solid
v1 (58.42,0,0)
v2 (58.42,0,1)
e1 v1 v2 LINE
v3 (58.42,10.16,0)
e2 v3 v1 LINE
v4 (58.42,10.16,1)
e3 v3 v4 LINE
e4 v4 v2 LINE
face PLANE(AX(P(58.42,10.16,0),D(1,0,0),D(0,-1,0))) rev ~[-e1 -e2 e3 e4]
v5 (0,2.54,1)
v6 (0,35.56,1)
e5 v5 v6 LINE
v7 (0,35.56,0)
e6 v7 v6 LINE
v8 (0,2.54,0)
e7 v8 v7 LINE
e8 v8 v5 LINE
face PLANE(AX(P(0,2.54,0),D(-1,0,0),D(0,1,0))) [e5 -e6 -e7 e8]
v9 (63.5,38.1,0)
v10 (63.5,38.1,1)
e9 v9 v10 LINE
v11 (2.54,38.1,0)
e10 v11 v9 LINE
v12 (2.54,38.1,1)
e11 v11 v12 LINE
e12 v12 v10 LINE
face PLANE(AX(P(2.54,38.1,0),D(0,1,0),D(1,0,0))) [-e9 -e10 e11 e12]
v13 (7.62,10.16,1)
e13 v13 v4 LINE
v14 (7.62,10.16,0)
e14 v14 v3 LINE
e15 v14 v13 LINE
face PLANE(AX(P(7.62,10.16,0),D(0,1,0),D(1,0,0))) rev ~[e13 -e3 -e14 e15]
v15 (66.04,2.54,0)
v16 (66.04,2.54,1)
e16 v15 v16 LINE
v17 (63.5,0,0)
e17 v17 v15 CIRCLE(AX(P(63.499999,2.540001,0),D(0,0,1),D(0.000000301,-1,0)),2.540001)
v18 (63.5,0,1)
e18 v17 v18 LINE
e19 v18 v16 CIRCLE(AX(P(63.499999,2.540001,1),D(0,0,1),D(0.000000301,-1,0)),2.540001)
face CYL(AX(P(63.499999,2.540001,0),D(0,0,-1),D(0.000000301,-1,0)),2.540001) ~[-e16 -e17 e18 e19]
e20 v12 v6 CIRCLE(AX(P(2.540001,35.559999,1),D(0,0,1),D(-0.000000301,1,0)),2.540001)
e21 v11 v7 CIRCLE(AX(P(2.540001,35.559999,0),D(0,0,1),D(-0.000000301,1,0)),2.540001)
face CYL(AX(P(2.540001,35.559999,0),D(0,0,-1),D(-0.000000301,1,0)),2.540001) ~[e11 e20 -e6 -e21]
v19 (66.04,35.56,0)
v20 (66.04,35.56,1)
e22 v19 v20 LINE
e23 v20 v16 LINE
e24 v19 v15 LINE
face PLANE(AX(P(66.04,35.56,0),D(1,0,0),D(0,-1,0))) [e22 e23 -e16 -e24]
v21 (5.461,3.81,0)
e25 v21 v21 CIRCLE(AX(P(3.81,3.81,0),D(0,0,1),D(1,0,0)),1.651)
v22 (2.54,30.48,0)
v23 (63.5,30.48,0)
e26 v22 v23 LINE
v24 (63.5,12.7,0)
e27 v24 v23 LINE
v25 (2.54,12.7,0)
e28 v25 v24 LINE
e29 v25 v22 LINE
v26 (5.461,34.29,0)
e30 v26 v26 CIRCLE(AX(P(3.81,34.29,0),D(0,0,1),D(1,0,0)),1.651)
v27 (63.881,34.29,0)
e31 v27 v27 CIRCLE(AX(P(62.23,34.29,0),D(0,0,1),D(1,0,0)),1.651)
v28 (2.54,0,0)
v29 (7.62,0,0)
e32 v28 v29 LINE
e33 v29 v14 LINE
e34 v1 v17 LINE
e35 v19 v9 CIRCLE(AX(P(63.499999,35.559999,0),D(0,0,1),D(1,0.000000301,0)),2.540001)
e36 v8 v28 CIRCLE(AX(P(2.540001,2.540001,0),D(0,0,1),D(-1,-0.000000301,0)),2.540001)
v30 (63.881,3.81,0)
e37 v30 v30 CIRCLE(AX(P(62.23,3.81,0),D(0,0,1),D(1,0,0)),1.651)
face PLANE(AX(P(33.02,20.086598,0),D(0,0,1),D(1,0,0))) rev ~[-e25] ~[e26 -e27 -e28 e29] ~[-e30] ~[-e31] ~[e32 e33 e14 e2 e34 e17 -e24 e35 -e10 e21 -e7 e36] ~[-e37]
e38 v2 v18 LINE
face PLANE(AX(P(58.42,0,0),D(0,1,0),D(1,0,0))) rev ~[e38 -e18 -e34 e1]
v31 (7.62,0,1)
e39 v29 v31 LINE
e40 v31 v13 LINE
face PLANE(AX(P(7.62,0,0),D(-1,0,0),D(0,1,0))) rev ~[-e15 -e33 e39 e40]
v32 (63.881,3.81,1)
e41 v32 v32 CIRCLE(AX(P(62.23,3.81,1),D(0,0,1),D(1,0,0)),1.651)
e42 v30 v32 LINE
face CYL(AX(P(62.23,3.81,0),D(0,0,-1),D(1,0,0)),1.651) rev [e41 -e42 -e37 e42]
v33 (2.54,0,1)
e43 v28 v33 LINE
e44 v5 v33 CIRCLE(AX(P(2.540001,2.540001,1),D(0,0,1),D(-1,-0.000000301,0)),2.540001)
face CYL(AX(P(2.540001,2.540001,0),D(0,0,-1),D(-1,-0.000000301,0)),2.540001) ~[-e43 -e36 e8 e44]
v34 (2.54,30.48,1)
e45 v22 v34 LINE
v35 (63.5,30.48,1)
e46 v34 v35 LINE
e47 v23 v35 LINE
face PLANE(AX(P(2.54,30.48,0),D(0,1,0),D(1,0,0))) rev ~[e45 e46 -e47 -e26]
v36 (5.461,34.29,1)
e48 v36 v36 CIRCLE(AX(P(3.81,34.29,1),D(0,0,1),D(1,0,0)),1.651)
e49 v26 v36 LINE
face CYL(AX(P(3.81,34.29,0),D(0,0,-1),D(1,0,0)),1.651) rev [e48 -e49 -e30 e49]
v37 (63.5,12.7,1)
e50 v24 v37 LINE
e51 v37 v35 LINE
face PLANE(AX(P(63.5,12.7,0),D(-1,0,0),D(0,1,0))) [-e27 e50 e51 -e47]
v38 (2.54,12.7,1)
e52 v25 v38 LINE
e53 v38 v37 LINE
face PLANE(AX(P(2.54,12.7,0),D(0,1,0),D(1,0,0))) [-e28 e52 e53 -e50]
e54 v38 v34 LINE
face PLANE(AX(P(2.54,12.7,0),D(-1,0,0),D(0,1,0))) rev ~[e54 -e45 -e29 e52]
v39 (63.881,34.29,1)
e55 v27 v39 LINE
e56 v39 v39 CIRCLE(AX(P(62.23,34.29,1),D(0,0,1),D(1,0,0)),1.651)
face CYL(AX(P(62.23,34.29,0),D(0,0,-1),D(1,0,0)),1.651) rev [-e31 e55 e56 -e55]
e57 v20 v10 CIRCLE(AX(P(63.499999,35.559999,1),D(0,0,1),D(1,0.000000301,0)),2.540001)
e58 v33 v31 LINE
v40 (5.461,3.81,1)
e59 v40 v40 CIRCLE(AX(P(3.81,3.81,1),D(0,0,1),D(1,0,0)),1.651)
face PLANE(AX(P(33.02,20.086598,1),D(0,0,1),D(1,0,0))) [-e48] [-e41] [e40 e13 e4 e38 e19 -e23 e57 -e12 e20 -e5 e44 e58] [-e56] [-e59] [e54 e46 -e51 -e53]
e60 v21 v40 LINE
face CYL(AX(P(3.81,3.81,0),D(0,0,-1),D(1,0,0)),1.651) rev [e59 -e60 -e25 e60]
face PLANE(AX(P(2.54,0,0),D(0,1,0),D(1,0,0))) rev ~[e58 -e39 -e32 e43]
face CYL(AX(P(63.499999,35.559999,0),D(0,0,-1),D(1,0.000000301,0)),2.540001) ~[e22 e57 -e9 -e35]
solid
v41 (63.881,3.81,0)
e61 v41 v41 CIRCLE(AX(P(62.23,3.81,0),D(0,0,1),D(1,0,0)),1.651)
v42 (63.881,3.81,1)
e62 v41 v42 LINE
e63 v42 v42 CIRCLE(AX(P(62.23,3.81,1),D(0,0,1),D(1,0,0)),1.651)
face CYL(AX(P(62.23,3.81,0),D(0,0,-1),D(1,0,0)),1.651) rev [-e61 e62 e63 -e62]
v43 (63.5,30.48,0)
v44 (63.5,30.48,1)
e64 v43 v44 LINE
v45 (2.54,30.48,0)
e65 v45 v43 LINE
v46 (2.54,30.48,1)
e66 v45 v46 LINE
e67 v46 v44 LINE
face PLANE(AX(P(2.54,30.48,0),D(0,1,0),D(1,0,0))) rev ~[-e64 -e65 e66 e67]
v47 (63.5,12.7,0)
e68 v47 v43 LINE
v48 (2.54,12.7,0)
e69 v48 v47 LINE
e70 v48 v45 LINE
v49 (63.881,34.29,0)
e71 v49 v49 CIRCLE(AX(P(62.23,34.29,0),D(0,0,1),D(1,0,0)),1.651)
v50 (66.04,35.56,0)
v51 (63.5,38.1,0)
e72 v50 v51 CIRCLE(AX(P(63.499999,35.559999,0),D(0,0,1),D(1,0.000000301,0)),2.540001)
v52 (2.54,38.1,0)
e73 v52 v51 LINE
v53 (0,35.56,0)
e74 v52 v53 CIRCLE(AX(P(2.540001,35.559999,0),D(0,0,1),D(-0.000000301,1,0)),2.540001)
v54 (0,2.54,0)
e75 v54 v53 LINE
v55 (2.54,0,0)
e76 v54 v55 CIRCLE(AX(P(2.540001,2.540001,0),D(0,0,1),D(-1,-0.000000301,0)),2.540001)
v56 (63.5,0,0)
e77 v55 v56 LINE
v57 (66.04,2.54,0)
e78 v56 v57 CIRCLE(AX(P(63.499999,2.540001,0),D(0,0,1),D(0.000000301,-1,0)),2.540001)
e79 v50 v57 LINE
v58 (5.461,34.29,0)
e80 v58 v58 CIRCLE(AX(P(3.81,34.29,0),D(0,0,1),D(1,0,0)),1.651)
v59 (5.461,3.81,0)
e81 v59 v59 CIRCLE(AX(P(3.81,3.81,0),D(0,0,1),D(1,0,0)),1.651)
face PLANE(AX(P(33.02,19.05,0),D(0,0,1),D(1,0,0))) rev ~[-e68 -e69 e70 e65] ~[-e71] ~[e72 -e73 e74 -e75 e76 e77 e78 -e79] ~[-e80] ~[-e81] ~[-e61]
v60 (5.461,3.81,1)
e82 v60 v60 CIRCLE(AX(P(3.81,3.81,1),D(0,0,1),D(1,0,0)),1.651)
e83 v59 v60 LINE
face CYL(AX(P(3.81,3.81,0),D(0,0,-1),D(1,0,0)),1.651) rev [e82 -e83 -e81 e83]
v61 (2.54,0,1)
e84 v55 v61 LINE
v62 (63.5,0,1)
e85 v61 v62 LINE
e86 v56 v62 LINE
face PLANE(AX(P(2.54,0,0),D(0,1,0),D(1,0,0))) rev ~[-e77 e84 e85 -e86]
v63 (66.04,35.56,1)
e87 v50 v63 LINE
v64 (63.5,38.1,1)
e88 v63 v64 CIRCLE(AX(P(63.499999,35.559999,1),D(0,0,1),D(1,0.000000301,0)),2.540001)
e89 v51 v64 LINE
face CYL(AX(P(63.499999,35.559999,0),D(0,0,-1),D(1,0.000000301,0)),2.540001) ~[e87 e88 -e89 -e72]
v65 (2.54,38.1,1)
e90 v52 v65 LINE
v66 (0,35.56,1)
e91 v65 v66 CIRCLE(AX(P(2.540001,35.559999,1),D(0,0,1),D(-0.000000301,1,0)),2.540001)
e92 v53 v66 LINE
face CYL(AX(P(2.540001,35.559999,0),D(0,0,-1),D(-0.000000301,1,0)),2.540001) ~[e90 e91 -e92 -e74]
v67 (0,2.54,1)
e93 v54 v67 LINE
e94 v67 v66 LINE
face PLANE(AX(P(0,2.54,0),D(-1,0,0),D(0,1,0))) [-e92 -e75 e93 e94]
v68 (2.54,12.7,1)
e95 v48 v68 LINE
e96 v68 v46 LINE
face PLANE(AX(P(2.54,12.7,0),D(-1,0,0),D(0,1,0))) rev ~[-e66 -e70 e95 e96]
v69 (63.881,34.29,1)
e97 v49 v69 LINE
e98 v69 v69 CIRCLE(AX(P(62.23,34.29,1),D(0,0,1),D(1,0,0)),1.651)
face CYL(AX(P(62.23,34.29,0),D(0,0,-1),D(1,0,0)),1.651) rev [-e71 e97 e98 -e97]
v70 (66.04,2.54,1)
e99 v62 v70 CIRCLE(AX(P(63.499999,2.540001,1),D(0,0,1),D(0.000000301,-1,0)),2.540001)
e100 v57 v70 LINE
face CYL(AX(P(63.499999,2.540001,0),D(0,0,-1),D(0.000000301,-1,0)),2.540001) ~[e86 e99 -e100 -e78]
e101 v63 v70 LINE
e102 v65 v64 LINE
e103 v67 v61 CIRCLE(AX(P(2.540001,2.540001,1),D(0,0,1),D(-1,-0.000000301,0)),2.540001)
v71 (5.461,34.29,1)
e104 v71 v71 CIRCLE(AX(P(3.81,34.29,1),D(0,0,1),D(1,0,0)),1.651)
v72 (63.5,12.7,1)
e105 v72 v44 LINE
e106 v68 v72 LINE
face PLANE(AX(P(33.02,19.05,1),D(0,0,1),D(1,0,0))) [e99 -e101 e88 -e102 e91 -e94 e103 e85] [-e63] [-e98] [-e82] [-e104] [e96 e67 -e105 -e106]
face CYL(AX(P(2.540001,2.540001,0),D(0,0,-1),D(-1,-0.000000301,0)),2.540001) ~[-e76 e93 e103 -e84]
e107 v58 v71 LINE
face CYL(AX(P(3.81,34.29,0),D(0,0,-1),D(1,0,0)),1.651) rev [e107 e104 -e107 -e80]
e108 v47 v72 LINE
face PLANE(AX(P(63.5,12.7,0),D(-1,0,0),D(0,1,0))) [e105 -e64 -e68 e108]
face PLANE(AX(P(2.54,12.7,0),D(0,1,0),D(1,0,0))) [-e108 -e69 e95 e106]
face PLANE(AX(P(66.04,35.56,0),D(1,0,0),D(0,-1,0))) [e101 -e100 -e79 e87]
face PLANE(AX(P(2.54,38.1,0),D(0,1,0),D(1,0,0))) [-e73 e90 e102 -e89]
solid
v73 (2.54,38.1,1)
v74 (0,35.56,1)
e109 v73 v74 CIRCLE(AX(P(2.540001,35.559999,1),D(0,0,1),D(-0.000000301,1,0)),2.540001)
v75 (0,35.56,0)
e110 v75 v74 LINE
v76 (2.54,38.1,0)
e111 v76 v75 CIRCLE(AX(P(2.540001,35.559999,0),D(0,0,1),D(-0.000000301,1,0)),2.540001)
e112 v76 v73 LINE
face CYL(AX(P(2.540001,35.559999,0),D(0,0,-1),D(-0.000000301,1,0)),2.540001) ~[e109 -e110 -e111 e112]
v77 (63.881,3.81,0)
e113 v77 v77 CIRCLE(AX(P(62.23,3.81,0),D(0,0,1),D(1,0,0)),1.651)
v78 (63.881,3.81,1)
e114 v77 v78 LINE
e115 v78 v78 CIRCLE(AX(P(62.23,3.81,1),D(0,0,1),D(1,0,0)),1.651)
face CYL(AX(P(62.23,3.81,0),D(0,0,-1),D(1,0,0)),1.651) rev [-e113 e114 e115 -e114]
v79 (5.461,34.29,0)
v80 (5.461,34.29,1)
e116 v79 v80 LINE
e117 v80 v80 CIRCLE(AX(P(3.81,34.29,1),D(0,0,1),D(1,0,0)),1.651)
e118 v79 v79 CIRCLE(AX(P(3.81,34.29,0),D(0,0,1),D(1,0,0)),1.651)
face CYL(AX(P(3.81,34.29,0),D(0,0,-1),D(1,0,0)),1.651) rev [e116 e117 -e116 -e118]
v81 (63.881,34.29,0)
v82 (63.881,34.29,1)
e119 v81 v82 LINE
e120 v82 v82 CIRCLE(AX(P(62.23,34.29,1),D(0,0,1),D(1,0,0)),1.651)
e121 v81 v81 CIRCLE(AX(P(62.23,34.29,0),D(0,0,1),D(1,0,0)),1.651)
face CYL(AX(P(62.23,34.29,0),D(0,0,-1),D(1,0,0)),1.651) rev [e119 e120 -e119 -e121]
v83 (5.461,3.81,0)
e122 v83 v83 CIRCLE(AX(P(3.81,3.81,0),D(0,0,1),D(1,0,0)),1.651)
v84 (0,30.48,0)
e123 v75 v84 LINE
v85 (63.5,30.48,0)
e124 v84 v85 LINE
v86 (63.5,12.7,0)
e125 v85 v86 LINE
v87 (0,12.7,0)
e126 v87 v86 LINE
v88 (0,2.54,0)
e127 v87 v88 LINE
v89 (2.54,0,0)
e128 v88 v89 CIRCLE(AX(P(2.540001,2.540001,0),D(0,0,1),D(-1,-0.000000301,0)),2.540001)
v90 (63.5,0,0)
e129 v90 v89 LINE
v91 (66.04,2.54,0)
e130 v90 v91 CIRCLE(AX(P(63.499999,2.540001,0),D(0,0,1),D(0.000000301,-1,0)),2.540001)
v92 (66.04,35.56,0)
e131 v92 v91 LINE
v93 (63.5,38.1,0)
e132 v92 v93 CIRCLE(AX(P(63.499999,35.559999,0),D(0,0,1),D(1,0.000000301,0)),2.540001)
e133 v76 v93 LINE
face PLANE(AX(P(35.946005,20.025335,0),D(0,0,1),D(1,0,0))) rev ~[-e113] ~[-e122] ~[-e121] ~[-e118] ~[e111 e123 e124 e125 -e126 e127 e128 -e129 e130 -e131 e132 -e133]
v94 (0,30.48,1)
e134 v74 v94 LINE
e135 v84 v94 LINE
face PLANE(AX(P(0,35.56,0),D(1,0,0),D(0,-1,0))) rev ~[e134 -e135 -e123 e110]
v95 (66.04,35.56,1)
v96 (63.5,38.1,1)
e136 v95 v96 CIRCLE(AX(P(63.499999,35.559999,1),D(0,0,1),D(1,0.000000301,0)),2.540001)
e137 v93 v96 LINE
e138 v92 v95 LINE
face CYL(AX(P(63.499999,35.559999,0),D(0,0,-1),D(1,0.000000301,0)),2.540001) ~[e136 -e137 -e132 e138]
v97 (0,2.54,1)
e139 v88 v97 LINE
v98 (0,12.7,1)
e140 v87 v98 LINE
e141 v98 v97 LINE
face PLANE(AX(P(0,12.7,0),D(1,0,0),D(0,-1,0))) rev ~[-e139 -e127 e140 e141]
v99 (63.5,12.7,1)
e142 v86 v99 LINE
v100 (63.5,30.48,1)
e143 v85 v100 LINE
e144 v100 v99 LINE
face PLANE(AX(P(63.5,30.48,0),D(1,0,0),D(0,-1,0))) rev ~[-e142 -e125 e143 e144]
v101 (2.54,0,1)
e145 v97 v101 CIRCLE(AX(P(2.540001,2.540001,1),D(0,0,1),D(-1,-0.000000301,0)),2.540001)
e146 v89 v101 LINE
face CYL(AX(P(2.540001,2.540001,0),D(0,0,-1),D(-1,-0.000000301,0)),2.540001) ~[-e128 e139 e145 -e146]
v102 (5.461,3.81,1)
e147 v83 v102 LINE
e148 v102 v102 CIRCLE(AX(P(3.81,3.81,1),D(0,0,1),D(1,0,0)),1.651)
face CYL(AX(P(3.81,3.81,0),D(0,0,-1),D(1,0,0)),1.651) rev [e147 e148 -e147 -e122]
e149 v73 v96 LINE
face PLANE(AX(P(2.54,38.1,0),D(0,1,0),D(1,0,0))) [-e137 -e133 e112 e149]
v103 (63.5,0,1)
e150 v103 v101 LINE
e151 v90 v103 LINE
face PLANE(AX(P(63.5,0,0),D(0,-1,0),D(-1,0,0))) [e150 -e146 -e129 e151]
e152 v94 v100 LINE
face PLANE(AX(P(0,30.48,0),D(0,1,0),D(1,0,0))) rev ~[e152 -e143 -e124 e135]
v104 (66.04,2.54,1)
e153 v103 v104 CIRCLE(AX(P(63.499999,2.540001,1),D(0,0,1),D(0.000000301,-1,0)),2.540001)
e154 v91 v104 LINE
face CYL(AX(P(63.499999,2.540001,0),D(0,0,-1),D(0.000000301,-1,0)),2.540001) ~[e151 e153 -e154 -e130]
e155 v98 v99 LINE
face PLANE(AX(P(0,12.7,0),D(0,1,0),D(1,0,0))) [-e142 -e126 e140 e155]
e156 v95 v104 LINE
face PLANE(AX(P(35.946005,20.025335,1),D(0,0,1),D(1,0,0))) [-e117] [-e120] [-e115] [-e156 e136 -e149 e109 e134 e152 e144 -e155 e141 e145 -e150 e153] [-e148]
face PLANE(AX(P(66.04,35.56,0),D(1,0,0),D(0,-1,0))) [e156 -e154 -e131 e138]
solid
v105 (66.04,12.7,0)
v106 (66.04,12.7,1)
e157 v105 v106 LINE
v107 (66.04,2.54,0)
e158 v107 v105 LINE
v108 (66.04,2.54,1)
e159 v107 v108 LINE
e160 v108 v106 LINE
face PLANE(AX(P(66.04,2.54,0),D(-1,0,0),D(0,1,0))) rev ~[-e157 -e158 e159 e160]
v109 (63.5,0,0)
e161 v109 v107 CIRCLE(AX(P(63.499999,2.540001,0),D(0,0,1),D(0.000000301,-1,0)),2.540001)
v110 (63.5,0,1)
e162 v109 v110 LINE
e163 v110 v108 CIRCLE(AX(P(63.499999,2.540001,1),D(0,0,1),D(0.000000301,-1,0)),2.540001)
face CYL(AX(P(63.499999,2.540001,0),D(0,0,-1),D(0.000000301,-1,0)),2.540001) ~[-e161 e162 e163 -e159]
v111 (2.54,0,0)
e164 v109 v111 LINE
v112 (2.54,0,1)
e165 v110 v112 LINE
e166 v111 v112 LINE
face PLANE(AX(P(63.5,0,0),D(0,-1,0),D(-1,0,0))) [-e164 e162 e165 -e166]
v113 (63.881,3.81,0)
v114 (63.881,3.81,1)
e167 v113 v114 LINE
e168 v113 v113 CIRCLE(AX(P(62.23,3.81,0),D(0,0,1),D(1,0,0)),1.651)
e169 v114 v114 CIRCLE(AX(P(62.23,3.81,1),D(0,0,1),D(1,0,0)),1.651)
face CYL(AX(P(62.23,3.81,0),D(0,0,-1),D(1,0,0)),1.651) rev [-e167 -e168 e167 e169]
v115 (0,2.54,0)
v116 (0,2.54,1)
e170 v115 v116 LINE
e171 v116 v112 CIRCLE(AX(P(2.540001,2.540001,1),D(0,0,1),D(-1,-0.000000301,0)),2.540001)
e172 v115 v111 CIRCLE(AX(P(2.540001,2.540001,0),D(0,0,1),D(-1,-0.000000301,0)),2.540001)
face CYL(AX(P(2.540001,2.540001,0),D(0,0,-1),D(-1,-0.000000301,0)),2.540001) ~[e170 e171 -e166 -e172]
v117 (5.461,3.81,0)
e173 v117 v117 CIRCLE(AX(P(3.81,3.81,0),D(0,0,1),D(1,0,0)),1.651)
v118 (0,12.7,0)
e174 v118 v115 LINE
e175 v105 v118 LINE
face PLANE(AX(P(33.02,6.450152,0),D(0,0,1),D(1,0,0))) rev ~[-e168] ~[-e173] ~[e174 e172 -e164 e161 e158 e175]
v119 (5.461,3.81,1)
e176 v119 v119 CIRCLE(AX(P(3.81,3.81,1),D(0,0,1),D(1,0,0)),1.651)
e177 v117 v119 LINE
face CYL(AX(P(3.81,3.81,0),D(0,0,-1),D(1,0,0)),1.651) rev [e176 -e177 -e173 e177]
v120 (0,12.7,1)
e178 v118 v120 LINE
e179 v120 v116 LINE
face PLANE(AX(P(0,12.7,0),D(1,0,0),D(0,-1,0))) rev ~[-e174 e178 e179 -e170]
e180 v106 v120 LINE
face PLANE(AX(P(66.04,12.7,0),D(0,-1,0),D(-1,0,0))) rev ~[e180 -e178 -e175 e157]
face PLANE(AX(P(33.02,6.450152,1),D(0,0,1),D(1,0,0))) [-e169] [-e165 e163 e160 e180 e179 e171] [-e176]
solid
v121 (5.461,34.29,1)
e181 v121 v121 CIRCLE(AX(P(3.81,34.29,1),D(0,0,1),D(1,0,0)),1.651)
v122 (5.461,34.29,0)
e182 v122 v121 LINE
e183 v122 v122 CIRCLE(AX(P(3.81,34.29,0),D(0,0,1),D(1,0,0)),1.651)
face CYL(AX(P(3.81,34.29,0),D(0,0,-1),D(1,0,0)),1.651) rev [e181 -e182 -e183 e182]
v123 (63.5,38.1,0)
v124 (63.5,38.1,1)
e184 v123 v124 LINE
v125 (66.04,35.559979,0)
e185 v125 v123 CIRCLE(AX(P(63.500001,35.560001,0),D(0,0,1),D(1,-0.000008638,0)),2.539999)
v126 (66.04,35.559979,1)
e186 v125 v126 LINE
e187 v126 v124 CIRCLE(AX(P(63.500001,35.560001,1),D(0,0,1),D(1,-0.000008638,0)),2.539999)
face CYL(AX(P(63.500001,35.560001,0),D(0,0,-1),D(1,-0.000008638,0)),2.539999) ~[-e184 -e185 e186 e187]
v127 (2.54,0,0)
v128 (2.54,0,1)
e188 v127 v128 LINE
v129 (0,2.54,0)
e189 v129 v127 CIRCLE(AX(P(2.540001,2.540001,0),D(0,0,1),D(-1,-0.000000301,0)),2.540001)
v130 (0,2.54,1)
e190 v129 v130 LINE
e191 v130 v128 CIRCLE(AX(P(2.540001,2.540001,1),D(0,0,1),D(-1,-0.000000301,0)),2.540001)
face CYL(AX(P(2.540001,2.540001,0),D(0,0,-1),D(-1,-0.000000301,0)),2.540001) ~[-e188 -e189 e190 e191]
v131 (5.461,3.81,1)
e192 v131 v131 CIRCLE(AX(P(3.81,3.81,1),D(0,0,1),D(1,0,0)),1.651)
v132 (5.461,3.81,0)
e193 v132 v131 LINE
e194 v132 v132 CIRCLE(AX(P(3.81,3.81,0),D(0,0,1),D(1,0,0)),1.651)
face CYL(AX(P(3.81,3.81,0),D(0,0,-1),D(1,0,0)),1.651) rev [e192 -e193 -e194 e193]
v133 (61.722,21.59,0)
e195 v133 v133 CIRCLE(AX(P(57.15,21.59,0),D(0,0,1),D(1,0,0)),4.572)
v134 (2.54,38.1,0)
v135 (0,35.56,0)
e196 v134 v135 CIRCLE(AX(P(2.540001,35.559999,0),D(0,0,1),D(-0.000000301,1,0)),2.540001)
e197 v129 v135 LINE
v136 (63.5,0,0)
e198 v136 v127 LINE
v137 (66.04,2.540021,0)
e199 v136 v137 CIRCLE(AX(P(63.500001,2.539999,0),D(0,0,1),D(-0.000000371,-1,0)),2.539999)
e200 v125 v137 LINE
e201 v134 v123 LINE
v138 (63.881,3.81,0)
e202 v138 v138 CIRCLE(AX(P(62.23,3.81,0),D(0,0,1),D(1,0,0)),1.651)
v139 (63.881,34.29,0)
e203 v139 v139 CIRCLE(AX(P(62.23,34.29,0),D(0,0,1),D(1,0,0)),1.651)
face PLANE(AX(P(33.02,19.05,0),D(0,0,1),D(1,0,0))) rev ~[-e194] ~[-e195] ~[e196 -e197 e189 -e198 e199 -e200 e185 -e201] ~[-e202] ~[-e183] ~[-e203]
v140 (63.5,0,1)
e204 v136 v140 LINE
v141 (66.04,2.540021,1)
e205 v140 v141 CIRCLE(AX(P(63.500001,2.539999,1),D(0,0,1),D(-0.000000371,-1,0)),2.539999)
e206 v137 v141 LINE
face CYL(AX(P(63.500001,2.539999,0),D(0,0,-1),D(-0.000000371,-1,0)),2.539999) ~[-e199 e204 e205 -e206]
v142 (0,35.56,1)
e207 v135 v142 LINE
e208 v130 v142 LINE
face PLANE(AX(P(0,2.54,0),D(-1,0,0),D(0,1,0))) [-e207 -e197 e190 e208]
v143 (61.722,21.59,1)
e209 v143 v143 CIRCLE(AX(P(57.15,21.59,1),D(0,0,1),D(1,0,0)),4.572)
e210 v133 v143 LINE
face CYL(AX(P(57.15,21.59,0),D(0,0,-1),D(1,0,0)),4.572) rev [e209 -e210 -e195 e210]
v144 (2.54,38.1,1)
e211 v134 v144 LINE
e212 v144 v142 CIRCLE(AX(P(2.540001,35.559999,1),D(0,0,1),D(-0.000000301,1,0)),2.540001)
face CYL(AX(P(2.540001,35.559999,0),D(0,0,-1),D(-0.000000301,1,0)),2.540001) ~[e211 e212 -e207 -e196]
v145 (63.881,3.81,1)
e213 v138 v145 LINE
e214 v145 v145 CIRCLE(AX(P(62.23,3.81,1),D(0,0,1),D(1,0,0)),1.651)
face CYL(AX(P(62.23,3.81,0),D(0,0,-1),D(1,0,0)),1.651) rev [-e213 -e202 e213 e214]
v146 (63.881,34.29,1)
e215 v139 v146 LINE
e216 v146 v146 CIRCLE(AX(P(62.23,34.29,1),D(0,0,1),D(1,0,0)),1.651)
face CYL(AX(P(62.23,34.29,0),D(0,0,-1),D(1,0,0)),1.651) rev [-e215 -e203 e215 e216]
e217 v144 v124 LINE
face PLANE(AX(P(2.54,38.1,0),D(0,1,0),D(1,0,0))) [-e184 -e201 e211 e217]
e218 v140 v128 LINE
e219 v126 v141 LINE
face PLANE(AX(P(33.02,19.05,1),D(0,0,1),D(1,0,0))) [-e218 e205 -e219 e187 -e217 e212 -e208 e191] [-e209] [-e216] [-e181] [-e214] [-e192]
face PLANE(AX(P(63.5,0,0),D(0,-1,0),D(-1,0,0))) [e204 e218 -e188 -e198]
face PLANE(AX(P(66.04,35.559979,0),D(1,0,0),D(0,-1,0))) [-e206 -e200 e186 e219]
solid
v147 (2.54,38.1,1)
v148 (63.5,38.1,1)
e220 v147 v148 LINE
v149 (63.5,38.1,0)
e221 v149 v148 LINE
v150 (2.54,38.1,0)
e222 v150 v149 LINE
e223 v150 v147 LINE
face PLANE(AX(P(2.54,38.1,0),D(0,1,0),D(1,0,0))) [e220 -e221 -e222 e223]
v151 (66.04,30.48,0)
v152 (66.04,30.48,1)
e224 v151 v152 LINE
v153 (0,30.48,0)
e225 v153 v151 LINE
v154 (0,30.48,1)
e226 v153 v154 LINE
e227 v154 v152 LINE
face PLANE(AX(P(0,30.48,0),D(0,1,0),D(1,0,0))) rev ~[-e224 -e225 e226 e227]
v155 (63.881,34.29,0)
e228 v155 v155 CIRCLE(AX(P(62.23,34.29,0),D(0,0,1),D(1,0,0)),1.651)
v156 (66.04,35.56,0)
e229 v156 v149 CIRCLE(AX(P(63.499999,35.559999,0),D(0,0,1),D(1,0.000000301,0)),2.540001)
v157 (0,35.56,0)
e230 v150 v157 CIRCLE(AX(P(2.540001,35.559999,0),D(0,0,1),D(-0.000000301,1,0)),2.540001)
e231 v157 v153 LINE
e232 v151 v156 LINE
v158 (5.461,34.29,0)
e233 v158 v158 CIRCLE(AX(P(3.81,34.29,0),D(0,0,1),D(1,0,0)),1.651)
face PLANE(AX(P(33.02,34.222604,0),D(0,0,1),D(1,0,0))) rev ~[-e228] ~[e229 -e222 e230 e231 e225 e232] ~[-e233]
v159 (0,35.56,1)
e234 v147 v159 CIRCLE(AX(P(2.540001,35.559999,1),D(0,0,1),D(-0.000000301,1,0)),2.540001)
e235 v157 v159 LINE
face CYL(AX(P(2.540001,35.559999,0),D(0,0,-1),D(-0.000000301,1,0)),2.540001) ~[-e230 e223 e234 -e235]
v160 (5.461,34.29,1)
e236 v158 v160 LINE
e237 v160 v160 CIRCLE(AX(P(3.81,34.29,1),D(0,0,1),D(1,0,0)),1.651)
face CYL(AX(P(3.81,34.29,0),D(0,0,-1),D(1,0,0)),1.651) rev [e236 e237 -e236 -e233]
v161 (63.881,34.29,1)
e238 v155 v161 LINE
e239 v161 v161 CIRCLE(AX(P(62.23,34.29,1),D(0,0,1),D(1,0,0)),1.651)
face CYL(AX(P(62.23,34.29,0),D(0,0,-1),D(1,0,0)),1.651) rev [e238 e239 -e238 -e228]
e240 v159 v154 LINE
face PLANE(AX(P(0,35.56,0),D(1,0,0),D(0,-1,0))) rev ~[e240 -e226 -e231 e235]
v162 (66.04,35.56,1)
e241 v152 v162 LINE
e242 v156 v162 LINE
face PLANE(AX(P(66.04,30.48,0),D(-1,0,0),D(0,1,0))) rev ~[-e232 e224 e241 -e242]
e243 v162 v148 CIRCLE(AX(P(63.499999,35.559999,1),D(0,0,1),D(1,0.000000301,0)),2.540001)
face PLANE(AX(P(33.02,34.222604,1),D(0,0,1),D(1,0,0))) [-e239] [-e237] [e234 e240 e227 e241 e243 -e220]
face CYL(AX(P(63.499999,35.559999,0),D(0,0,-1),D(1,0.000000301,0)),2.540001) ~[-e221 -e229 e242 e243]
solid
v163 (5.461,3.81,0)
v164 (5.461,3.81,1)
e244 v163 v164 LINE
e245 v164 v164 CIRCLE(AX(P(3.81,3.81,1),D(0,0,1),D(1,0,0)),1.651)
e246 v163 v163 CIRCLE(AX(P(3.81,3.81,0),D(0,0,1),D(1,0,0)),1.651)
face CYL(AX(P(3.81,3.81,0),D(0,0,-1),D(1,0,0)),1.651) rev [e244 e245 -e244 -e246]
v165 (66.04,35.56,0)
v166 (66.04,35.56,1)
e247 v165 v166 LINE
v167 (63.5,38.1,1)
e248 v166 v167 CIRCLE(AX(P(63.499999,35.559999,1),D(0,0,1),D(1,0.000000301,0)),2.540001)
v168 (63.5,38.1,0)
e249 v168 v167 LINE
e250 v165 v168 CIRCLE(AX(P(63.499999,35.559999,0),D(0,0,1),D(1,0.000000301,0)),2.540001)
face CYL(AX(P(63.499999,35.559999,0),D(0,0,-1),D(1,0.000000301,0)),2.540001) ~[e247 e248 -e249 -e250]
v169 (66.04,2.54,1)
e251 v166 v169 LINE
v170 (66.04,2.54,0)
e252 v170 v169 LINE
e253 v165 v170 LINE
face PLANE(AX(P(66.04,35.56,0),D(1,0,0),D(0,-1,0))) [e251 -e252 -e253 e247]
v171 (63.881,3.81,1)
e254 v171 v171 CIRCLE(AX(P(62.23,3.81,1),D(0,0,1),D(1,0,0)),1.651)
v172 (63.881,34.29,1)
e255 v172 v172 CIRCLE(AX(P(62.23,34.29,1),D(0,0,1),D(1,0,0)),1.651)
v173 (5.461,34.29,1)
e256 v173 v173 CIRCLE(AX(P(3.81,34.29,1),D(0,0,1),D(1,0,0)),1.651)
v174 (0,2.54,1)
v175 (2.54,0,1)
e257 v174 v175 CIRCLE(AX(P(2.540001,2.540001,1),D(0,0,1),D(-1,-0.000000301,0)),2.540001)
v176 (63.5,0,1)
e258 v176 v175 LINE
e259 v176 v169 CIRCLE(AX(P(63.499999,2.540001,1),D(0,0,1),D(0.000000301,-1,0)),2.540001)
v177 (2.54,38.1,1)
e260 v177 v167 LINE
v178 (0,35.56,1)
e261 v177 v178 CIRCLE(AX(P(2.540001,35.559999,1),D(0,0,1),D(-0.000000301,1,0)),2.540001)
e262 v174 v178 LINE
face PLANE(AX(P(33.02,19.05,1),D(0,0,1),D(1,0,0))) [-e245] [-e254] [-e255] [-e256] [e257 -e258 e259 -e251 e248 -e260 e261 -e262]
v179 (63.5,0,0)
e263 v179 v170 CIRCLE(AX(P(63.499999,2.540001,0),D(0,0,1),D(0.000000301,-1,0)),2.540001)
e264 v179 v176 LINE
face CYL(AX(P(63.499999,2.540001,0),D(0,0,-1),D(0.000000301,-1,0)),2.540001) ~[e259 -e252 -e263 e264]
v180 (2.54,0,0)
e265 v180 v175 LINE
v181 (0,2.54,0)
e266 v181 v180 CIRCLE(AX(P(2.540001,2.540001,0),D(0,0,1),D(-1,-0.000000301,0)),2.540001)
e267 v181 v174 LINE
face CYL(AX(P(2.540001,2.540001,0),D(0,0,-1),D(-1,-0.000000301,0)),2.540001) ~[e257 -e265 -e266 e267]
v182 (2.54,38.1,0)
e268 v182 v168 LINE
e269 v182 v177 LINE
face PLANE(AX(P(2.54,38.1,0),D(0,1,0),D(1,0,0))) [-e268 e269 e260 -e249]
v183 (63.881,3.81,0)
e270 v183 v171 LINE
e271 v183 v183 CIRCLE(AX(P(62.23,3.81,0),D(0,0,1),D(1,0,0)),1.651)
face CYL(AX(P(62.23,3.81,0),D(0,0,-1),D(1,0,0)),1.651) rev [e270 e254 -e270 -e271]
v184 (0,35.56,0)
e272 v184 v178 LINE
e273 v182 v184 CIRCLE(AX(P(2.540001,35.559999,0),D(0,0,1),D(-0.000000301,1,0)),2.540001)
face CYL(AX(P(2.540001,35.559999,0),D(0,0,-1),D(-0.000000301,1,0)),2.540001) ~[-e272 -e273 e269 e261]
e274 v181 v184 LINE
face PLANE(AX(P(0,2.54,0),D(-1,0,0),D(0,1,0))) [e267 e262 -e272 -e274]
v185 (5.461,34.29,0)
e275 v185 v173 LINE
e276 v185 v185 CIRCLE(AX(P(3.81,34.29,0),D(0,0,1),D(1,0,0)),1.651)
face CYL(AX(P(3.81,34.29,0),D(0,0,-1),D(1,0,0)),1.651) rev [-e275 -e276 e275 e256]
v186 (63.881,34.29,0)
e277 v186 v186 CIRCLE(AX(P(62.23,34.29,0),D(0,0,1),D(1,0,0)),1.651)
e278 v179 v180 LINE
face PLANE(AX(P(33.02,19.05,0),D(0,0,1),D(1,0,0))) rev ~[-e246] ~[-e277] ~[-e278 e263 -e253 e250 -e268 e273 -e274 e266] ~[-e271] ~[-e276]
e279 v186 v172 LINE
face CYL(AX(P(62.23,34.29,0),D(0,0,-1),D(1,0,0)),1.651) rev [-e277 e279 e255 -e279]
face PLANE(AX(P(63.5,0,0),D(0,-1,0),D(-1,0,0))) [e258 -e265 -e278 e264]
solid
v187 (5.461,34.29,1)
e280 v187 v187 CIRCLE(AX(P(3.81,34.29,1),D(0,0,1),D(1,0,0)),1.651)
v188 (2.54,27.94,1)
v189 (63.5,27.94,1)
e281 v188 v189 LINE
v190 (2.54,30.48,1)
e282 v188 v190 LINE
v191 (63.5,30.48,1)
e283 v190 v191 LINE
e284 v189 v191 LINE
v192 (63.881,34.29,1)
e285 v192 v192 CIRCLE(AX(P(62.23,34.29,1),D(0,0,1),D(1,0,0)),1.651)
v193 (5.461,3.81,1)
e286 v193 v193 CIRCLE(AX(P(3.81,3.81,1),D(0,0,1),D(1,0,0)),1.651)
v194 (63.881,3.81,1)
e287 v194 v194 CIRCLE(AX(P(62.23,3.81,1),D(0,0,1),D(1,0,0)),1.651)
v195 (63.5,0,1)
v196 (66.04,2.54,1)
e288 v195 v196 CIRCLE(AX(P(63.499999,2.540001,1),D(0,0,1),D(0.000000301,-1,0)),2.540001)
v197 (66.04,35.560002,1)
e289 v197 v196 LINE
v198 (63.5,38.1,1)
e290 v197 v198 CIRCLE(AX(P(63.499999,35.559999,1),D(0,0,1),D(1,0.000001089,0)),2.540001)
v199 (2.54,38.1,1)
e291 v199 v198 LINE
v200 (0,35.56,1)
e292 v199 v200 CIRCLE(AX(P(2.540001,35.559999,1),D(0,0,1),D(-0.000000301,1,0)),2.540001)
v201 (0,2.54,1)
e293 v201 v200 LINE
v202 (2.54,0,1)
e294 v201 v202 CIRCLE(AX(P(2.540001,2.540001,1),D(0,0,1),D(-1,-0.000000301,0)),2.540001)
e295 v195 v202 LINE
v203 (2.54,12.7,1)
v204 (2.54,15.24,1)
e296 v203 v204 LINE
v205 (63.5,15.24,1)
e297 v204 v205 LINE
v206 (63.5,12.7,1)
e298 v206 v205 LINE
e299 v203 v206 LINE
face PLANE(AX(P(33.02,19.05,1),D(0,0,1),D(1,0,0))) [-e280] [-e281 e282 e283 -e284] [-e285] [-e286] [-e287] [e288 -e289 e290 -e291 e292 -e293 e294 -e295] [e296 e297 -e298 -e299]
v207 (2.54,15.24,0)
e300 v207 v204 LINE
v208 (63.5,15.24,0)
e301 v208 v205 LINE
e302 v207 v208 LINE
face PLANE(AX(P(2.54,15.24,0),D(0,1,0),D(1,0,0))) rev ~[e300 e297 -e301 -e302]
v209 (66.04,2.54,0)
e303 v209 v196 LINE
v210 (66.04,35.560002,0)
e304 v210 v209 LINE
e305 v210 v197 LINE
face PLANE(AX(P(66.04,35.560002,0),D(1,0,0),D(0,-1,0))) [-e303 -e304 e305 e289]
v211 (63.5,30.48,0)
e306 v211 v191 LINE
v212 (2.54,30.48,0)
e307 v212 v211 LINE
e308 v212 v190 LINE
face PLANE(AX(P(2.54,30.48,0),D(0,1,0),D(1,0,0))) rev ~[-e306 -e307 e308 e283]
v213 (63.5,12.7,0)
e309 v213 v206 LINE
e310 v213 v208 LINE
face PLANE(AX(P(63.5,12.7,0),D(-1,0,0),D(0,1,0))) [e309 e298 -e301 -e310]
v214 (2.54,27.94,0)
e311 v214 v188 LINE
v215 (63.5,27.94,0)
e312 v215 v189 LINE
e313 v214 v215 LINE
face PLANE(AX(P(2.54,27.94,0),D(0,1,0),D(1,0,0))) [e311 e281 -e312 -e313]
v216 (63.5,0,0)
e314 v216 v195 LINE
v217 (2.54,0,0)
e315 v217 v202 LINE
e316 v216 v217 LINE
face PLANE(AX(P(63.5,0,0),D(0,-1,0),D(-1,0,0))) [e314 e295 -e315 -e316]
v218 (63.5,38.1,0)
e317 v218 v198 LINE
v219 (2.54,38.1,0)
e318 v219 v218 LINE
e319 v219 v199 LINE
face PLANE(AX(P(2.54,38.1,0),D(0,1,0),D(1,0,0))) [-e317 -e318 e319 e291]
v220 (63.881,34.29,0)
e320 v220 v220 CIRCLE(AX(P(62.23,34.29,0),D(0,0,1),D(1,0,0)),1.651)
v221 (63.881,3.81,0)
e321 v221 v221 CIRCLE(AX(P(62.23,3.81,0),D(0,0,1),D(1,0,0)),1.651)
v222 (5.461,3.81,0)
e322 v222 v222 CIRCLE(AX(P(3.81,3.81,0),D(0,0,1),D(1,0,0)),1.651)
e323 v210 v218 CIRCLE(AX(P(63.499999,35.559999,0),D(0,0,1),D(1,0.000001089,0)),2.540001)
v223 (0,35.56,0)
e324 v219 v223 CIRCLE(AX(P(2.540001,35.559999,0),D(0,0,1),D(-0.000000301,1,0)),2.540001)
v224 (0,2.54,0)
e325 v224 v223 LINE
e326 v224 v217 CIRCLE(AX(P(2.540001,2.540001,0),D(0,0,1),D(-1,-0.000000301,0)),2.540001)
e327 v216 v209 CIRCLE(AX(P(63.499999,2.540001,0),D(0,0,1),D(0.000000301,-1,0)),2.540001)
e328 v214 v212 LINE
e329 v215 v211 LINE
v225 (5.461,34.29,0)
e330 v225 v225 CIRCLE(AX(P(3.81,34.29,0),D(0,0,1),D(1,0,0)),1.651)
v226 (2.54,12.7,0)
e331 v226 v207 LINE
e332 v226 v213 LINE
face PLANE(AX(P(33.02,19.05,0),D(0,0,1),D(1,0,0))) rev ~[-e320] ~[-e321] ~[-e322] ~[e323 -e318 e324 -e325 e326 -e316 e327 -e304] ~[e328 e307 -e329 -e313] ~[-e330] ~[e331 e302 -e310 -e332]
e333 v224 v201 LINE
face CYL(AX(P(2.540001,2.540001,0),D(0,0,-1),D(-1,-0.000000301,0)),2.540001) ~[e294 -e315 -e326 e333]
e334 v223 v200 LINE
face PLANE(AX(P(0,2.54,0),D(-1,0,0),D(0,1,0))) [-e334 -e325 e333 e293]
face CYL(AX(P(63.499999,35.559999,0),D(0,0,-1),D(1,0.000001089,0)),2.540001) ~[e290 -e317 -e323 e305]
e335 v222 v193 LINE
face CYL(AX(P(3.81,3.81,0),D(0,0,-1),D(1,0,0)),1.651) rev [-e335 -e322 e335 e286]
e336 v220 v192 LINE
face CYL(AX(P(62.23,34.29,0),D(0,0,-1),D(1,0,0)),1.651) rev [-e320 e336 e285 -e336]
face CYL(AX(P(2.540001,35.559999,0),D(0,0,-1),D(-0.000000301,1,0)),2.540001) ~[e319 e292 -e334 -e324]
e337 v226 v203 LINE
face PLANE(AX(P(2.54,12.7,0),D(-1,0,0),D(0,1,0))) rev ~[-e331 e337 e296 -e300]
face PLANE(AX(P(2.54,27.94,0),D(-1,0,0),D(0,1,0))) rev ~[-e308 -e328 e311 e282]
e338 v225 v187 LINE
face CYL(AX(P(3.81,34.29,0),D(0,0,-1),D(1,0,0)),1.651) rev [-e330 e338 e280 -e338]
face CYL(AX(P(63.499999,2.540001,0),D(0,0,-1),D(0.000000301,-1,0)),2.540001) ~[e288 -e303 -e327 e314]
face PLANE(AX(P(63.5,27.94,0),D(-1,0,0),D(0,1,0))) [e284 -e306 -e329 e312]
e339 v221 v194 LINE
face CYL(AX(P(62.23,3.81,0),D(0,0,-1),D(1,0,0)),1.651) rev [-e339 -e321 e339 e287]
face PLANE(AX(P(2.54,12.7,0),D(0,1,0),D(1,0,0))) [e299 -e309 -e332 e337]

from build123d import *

# Parameters (mm, degrees)
SKETCH001_R      = 1.651
EXTRUDE_DEPTH    = 1
SKETCH002_R      = 1.651
SKETCH002_W      = 60.96
SKETCH002_H      = 2.54
EXTRUDE001_DEPTH = 1
SKETCH003_R      = 1.651
SKETCH003_W      = 60.96
SKETCH003_H      = 17.78
EXTRUDE002_DEPTH = 1
SKETCH004_R      = 1.651
EXTRUDE003_DEPTH = 1
SKETCH005_R      = 1.651
EXTRUDE004_DEPTH = 1
SKETCH006_R      = 1.651
SKETCH006_W      = 60.96
SKETCH006_H      = 17.78
EXTRUDE005_DEPTH = 1
SKETCH007_R      = 1.651
SKETCH007_R_2    = 4.572
EXTRUDE006_DEPTH = 1


with BuildPart() as eplate:
    # Sketch001 → Extrude (new body)
    with BuildSketch(Plane.XY):
        with BuildLine():
            ThreePointArc((0, 2.54), (0.743949, 0.743949), (2.54, 0))
            Line((63.5, 0), (2.54, 0))
            ThreePointArc((63.5, 0), (65.296051, 0.743949), (66.04, 2.54))
            Line((66.04, 35.56), (66.04, 2.54))
            ThreePointArc((66.04, 35.56), (65.296051, 37.356051), (63.5, 38.1))
            Line((2.54, 38.1), (63.5, 38.1))
            ThreePointArc((2.54, 38.1), (0.743949, 37.356051), (0, 35.56))
            Line((0, 2.54), (0, 35.56))
        make_face()
        with Locations((3.81, 34.29)):
            Circle(SKETCH001_R, mode=Mode.SUBTRACT)
        with Locations((3.81, 3.81)):
            Circle(SKETCH001_R, mode=Mode.SUBTRACT)
        with Locations((62.23, 3.81)):
            Circle(SKETCH001_R, mode=Mode.SUBTRACT)
        with Locations((62.23, 34.29)):
            Circle(SKETCH001_R, mode=Mode.SUBTRACT)
    extrude(amount=EXTRUDE_DEPTH)


with BuildPart() as ethroughholeslots:
    # Sketch002 → Extrude001 (new body)
    with BuildSketch(Plane.XY):
        with BuildLine():
            ThreePointArc((0, 2.54), (0.743949, 0.743949), (2.54, 0))
            Line((63.5, 0), (2.54, 0))
            ThreePointArc((63.5, 0), (65.296051, 0.743949), (66.04, 2.54))
            Line((66.04, 35.560002), (66.04, 2.54))
            ThreePointArc((66.04, 35.560002), (65.29605, 37.356052), (63.5, 38.1))
            Line((2.54, 38.1), (63.5, 38.1))
            ThreePointArc((2.54, 38.1), (0.743949, 37.356051), (0, 35.56))
            Line((0, 2.54), (0, 35.56))
        make_face()
        with Locations((3.81, 34.29)):
            Circle(SKETCH002_R, mode=Mode.SUBTRACT)
        with Locations((3.81, 3.81)):
            Circle(SKETCH002_R, mode=Mode.SUBTRACT)
        with Locations((62.23, 3.81)):
            Circle(SKETCH002_R, mode=Mode.SUBTRACT)
        with Locations((62.23, 34.29)):
            Circle(SKETCH002_R, mode=Mode.SUBTRACT)
        with Locations((33.02, 13.97)):
            Rectangle(SKETCH002_W, SKETCH002_H, mode=Mode.SUBTRACT)
        with Locations((33.02, 29.21)):
            Rectangle(SKETCH002_W, SKETCH002_H, mode=Mode.SUBTRACT)
    extrude(amount=EXTRUDE001_DEPTH)


with BuildPart() as eholeusbplus:
    # Sketch003 → Extrude002 (new body)
    with BuildSketch(Plane.XY):
        with BuildLine():
            ThreePointArc((0, 2.54), (0.743949, 0.743949), (2.54, 0))
            Line((2.54, 0), (7.62, 0))
            Line((7.62, 0), (7.62, 10.16))
            Line((7.62, 10.16), (58.42, 10.16))
            Line((58.42, 10.16), (58.42, 0))
            Line((58.42, 0), (63.5, 0))
            ThreePointArc((63.5, 0), (65.296051, 0.743949), (66.04, 2.54))
            Line((66.04, 35.56), (66.04, 2.54))
            ThreePointArc((66.04, 35.56), (65.296051, 37.356051), (63.5, 38.1))
            Line((2.54, 38.1), (63.5, 38.1))
            ThreePointArc((2.54, 38.1), (0.743949, 37.356051), (0, 35.56))
            Line((0, 2.54), (0, 35.56))
        make_face()
        with Locations((3.81, 34.29)):
            Circle(SKETCH003_R, mode=Mode.SUBTRACT)
        with Locations((3.81, 3.81)):
            Circle(SKETCH003_R, mode=Mode.SUBTRACT)
        with Locations((62.23, 3.81)):
            Circle(SKETCH003_R, mode=Mode.SUBTRACT)
        with Locations((62.23, 34.29)):
            Circle(SKETCH003_R, mode=Mode.SUBTRACT)
        with Locations((33.02, 21.59)):
            Rectangle(SKETCH003_W, SKETCH003_H, mode=Mode.SUBTRACT)
    extrude(amount=EXTRUDE002_DEPTH)


with BuildPart() as eslot:
    # Sketch004 → Extrude003 (new body)
    with BuildSketch(Plane.XY):
        with BuildLine():
            ThreePointArc((0, 2.54), (0.743949, 0.743949), (2.54, 0))
            Line((63.5, 0), (2.54, 0))
            ThreePointArc((63.5, 0), (65.296051, 0.743949), (66.04, 2.54))
            Line((66.04, 2.54), (66.04, 12.7))
            Line((66.04, 12.7), (0, 12.7))
            Line((0, 12.7), (0, 2.54))
        make_face()
        with Locations((3.81, 3.81)):
            Circle(SKETCH004_R, mode=Mode.SUBTRACT)
        with Locations((62.23, 3.81)):
            Circle(SKETCH004_R, mode=Mode.SUBTRACT)
        with BuildLine():
            ThreePointArc((2.54, 38.1), (0.743949, 37.356051), (0, 35.56))
            Line((0, 35.56), (0, 30.48))
            Line((0, 30.48), (66.04, 30.48))
            Line((66.04, 30.48), (66.04, 35.56))
            ThreePointArc((66.04, 35.56), (65.296051, 37.356051), (63.5, 38.1))
            Line((2.54, 38.1), (63.5, 38.1))
        make_face()
        with Locations((3.81, 34.29)):
            Circle(SKETCH004_R, mode=Mode.SUBTRACT)
        with Locations((62.23, 34.29)):
            Circle(SKETCH004_R, mode=Mode.SUBTRACT)
    extrude(amount=EXTRUDE003_DEPTH)


with BuildPart() as eusbslot:
    # Sketch005 → Extrude004 (new body)
    with BuildSketch(Plane.XY):
        with BuildLine():
            ThreePointArc((0, 2.54), (0.743949, 0.743949), (2.54, 0))
            Line((63.5, 0), (2.54, 0))
            ThreePointArc((63.5, 0), (65.296051, 0.743949), (66.04, 2.54))
            Line((66.04, 35.56), (66.04, 2.54))
            ThreePointArc((66.04, 35.56), (65.296051, 37.356051), (63.5, 38.1))
            Line((2.54, 38.1), (63.5, 38.1))
            ThreePointArc((2.54, 38.1), (0.743949, 37.356051), (0, 35.56))
            Line((0, 35.56), (0, 30.48))
            Line((0, 30.48), (63.5, 30.48))
            Line((63.5, 30.48), (63.5, 12.7))
            Line((0, 12.7), (63.5, 12.7))
            Line((0, 12.7), (0, 2.54))
        make_face()
        with Locations((3.81, 34.29)):
            Circle(SKETCH005_R, mode=Mode.SUBTRACT)
        with Locations((3.81, 3.81)):
            Circle(SKETCH005_R, mode=Mode.SUBTRACT)
        with Locations((62.23, 3.81)):
            Circle(SKETCH005_R, mode=Mode.SUBTRACT)
        with Locations((62.23, 34.29)):
            Circle(SKETCH005_R, mode=Mode.SUBTRACT)
    extrude(amount=EXTRUDE004_DEPTH)


with BuildPart() as ehole:
    # Sketch006 → Extrude005 (new body)
    with BuildSketch(Plane.XY):
        with BuildLine():
            ThreePointArc((0, 2.54), (0.743949, 0.743949), (2.54, 0))
            Line((2.54, 0), (63.5, 0))
            ThreePointArc((63.5, 0), (65.296051, 0.743949), (66.04, 2.54))
            Line((66.04, 35.56), (66.04, 2.54))
            ThreePointArc((66.04, 35.56), (65.296051, 37.356051), (63.5, 38.1))
            Line((2.54, 38.1), (63.5, 38.1))
            ThreePointArc((2.54, 38.1), (0.743949, 37.356051), (0, 35.56))
            Line((0, 2.54), (0, 35.56))
        make_face()
        with Locations((3.81, 34.29)):
            Circle(SKETCH006_R, mode=Mode.SUBTRACT)
        with Locations((3.81, 3.81)):
            Circle(SKETCH006_R, mode=Mode.SUBTRACT)
        with Locations((62.23, 3.81)):
            Circle(SKETCH006_R, mode=Mode.SUBTRACT)
        with Locations((62.23, 34.29)):
            Circle(SKETCH006_R, mode=Mode.SUBTRACT)
        with Locations((33.02, 21.59)):
            Rectangle(SKETCH006_W, SKETCH006_H, mode=Mode.SUBTRACT)
    extrude(amount=EXTRUDE005_DEPTH)


with BuildPart() as ejoystick:
    # Sketch007 → Extrude006 (new body)
    with BuildSketch(Plane.XY):
        with BuildLine():
            ThreePointArc((0, 2.54), (0.743949, 0.743949), (2.54, 0))
            Line((63.5, 0), (2.54, 0))
            ThreePointArc((63.5, 0), (65.296059, 0.743956), (66.04, 2.540021))
            Line((66.04, 35.559979), (66.04, 2.540021))
            ThreePointArc((66.04, 35.559979), (65.296059, 37.356044), (63.5, 38.1))
            Line((2.54, 38.1), (63.5, 38.1))
            ThreePointArc((2.54, 38.1), (0.743949, 37.356051), (0, 35.56))
            Line((0, 2.54), (0, 35.56))
        make_face()
        with Locations((3.81, 34.29)):
            Circle(SKETCH007_R, mode=Mode.SUBTRACT)
        with Locations((3.81, 3.81)):
            Circle(SKETCH007_R, mode=Mode.SUBTRACT)
        with Locations((62.23, 3.81)):
            Circle(SKETCH007_R, mode=Mode.SUBTRACT)
        with Locations((62.23, 34.29)):
            Circle(SKETCH007_R, mode=Mode.SUBTRACT)
        with Locations((57.15, 21.59)):
            Circle(SKETCH007_R_2, mode=Mode.SUBTRACT)
    extrude(amount=EXTRUDE006_DEPTH)


solid = Compound([eplate.part, ethroughholeslots.part, eholeusbplus.part, eslot.part, eusbslot.part, ehole.part, ejoystick.part])
